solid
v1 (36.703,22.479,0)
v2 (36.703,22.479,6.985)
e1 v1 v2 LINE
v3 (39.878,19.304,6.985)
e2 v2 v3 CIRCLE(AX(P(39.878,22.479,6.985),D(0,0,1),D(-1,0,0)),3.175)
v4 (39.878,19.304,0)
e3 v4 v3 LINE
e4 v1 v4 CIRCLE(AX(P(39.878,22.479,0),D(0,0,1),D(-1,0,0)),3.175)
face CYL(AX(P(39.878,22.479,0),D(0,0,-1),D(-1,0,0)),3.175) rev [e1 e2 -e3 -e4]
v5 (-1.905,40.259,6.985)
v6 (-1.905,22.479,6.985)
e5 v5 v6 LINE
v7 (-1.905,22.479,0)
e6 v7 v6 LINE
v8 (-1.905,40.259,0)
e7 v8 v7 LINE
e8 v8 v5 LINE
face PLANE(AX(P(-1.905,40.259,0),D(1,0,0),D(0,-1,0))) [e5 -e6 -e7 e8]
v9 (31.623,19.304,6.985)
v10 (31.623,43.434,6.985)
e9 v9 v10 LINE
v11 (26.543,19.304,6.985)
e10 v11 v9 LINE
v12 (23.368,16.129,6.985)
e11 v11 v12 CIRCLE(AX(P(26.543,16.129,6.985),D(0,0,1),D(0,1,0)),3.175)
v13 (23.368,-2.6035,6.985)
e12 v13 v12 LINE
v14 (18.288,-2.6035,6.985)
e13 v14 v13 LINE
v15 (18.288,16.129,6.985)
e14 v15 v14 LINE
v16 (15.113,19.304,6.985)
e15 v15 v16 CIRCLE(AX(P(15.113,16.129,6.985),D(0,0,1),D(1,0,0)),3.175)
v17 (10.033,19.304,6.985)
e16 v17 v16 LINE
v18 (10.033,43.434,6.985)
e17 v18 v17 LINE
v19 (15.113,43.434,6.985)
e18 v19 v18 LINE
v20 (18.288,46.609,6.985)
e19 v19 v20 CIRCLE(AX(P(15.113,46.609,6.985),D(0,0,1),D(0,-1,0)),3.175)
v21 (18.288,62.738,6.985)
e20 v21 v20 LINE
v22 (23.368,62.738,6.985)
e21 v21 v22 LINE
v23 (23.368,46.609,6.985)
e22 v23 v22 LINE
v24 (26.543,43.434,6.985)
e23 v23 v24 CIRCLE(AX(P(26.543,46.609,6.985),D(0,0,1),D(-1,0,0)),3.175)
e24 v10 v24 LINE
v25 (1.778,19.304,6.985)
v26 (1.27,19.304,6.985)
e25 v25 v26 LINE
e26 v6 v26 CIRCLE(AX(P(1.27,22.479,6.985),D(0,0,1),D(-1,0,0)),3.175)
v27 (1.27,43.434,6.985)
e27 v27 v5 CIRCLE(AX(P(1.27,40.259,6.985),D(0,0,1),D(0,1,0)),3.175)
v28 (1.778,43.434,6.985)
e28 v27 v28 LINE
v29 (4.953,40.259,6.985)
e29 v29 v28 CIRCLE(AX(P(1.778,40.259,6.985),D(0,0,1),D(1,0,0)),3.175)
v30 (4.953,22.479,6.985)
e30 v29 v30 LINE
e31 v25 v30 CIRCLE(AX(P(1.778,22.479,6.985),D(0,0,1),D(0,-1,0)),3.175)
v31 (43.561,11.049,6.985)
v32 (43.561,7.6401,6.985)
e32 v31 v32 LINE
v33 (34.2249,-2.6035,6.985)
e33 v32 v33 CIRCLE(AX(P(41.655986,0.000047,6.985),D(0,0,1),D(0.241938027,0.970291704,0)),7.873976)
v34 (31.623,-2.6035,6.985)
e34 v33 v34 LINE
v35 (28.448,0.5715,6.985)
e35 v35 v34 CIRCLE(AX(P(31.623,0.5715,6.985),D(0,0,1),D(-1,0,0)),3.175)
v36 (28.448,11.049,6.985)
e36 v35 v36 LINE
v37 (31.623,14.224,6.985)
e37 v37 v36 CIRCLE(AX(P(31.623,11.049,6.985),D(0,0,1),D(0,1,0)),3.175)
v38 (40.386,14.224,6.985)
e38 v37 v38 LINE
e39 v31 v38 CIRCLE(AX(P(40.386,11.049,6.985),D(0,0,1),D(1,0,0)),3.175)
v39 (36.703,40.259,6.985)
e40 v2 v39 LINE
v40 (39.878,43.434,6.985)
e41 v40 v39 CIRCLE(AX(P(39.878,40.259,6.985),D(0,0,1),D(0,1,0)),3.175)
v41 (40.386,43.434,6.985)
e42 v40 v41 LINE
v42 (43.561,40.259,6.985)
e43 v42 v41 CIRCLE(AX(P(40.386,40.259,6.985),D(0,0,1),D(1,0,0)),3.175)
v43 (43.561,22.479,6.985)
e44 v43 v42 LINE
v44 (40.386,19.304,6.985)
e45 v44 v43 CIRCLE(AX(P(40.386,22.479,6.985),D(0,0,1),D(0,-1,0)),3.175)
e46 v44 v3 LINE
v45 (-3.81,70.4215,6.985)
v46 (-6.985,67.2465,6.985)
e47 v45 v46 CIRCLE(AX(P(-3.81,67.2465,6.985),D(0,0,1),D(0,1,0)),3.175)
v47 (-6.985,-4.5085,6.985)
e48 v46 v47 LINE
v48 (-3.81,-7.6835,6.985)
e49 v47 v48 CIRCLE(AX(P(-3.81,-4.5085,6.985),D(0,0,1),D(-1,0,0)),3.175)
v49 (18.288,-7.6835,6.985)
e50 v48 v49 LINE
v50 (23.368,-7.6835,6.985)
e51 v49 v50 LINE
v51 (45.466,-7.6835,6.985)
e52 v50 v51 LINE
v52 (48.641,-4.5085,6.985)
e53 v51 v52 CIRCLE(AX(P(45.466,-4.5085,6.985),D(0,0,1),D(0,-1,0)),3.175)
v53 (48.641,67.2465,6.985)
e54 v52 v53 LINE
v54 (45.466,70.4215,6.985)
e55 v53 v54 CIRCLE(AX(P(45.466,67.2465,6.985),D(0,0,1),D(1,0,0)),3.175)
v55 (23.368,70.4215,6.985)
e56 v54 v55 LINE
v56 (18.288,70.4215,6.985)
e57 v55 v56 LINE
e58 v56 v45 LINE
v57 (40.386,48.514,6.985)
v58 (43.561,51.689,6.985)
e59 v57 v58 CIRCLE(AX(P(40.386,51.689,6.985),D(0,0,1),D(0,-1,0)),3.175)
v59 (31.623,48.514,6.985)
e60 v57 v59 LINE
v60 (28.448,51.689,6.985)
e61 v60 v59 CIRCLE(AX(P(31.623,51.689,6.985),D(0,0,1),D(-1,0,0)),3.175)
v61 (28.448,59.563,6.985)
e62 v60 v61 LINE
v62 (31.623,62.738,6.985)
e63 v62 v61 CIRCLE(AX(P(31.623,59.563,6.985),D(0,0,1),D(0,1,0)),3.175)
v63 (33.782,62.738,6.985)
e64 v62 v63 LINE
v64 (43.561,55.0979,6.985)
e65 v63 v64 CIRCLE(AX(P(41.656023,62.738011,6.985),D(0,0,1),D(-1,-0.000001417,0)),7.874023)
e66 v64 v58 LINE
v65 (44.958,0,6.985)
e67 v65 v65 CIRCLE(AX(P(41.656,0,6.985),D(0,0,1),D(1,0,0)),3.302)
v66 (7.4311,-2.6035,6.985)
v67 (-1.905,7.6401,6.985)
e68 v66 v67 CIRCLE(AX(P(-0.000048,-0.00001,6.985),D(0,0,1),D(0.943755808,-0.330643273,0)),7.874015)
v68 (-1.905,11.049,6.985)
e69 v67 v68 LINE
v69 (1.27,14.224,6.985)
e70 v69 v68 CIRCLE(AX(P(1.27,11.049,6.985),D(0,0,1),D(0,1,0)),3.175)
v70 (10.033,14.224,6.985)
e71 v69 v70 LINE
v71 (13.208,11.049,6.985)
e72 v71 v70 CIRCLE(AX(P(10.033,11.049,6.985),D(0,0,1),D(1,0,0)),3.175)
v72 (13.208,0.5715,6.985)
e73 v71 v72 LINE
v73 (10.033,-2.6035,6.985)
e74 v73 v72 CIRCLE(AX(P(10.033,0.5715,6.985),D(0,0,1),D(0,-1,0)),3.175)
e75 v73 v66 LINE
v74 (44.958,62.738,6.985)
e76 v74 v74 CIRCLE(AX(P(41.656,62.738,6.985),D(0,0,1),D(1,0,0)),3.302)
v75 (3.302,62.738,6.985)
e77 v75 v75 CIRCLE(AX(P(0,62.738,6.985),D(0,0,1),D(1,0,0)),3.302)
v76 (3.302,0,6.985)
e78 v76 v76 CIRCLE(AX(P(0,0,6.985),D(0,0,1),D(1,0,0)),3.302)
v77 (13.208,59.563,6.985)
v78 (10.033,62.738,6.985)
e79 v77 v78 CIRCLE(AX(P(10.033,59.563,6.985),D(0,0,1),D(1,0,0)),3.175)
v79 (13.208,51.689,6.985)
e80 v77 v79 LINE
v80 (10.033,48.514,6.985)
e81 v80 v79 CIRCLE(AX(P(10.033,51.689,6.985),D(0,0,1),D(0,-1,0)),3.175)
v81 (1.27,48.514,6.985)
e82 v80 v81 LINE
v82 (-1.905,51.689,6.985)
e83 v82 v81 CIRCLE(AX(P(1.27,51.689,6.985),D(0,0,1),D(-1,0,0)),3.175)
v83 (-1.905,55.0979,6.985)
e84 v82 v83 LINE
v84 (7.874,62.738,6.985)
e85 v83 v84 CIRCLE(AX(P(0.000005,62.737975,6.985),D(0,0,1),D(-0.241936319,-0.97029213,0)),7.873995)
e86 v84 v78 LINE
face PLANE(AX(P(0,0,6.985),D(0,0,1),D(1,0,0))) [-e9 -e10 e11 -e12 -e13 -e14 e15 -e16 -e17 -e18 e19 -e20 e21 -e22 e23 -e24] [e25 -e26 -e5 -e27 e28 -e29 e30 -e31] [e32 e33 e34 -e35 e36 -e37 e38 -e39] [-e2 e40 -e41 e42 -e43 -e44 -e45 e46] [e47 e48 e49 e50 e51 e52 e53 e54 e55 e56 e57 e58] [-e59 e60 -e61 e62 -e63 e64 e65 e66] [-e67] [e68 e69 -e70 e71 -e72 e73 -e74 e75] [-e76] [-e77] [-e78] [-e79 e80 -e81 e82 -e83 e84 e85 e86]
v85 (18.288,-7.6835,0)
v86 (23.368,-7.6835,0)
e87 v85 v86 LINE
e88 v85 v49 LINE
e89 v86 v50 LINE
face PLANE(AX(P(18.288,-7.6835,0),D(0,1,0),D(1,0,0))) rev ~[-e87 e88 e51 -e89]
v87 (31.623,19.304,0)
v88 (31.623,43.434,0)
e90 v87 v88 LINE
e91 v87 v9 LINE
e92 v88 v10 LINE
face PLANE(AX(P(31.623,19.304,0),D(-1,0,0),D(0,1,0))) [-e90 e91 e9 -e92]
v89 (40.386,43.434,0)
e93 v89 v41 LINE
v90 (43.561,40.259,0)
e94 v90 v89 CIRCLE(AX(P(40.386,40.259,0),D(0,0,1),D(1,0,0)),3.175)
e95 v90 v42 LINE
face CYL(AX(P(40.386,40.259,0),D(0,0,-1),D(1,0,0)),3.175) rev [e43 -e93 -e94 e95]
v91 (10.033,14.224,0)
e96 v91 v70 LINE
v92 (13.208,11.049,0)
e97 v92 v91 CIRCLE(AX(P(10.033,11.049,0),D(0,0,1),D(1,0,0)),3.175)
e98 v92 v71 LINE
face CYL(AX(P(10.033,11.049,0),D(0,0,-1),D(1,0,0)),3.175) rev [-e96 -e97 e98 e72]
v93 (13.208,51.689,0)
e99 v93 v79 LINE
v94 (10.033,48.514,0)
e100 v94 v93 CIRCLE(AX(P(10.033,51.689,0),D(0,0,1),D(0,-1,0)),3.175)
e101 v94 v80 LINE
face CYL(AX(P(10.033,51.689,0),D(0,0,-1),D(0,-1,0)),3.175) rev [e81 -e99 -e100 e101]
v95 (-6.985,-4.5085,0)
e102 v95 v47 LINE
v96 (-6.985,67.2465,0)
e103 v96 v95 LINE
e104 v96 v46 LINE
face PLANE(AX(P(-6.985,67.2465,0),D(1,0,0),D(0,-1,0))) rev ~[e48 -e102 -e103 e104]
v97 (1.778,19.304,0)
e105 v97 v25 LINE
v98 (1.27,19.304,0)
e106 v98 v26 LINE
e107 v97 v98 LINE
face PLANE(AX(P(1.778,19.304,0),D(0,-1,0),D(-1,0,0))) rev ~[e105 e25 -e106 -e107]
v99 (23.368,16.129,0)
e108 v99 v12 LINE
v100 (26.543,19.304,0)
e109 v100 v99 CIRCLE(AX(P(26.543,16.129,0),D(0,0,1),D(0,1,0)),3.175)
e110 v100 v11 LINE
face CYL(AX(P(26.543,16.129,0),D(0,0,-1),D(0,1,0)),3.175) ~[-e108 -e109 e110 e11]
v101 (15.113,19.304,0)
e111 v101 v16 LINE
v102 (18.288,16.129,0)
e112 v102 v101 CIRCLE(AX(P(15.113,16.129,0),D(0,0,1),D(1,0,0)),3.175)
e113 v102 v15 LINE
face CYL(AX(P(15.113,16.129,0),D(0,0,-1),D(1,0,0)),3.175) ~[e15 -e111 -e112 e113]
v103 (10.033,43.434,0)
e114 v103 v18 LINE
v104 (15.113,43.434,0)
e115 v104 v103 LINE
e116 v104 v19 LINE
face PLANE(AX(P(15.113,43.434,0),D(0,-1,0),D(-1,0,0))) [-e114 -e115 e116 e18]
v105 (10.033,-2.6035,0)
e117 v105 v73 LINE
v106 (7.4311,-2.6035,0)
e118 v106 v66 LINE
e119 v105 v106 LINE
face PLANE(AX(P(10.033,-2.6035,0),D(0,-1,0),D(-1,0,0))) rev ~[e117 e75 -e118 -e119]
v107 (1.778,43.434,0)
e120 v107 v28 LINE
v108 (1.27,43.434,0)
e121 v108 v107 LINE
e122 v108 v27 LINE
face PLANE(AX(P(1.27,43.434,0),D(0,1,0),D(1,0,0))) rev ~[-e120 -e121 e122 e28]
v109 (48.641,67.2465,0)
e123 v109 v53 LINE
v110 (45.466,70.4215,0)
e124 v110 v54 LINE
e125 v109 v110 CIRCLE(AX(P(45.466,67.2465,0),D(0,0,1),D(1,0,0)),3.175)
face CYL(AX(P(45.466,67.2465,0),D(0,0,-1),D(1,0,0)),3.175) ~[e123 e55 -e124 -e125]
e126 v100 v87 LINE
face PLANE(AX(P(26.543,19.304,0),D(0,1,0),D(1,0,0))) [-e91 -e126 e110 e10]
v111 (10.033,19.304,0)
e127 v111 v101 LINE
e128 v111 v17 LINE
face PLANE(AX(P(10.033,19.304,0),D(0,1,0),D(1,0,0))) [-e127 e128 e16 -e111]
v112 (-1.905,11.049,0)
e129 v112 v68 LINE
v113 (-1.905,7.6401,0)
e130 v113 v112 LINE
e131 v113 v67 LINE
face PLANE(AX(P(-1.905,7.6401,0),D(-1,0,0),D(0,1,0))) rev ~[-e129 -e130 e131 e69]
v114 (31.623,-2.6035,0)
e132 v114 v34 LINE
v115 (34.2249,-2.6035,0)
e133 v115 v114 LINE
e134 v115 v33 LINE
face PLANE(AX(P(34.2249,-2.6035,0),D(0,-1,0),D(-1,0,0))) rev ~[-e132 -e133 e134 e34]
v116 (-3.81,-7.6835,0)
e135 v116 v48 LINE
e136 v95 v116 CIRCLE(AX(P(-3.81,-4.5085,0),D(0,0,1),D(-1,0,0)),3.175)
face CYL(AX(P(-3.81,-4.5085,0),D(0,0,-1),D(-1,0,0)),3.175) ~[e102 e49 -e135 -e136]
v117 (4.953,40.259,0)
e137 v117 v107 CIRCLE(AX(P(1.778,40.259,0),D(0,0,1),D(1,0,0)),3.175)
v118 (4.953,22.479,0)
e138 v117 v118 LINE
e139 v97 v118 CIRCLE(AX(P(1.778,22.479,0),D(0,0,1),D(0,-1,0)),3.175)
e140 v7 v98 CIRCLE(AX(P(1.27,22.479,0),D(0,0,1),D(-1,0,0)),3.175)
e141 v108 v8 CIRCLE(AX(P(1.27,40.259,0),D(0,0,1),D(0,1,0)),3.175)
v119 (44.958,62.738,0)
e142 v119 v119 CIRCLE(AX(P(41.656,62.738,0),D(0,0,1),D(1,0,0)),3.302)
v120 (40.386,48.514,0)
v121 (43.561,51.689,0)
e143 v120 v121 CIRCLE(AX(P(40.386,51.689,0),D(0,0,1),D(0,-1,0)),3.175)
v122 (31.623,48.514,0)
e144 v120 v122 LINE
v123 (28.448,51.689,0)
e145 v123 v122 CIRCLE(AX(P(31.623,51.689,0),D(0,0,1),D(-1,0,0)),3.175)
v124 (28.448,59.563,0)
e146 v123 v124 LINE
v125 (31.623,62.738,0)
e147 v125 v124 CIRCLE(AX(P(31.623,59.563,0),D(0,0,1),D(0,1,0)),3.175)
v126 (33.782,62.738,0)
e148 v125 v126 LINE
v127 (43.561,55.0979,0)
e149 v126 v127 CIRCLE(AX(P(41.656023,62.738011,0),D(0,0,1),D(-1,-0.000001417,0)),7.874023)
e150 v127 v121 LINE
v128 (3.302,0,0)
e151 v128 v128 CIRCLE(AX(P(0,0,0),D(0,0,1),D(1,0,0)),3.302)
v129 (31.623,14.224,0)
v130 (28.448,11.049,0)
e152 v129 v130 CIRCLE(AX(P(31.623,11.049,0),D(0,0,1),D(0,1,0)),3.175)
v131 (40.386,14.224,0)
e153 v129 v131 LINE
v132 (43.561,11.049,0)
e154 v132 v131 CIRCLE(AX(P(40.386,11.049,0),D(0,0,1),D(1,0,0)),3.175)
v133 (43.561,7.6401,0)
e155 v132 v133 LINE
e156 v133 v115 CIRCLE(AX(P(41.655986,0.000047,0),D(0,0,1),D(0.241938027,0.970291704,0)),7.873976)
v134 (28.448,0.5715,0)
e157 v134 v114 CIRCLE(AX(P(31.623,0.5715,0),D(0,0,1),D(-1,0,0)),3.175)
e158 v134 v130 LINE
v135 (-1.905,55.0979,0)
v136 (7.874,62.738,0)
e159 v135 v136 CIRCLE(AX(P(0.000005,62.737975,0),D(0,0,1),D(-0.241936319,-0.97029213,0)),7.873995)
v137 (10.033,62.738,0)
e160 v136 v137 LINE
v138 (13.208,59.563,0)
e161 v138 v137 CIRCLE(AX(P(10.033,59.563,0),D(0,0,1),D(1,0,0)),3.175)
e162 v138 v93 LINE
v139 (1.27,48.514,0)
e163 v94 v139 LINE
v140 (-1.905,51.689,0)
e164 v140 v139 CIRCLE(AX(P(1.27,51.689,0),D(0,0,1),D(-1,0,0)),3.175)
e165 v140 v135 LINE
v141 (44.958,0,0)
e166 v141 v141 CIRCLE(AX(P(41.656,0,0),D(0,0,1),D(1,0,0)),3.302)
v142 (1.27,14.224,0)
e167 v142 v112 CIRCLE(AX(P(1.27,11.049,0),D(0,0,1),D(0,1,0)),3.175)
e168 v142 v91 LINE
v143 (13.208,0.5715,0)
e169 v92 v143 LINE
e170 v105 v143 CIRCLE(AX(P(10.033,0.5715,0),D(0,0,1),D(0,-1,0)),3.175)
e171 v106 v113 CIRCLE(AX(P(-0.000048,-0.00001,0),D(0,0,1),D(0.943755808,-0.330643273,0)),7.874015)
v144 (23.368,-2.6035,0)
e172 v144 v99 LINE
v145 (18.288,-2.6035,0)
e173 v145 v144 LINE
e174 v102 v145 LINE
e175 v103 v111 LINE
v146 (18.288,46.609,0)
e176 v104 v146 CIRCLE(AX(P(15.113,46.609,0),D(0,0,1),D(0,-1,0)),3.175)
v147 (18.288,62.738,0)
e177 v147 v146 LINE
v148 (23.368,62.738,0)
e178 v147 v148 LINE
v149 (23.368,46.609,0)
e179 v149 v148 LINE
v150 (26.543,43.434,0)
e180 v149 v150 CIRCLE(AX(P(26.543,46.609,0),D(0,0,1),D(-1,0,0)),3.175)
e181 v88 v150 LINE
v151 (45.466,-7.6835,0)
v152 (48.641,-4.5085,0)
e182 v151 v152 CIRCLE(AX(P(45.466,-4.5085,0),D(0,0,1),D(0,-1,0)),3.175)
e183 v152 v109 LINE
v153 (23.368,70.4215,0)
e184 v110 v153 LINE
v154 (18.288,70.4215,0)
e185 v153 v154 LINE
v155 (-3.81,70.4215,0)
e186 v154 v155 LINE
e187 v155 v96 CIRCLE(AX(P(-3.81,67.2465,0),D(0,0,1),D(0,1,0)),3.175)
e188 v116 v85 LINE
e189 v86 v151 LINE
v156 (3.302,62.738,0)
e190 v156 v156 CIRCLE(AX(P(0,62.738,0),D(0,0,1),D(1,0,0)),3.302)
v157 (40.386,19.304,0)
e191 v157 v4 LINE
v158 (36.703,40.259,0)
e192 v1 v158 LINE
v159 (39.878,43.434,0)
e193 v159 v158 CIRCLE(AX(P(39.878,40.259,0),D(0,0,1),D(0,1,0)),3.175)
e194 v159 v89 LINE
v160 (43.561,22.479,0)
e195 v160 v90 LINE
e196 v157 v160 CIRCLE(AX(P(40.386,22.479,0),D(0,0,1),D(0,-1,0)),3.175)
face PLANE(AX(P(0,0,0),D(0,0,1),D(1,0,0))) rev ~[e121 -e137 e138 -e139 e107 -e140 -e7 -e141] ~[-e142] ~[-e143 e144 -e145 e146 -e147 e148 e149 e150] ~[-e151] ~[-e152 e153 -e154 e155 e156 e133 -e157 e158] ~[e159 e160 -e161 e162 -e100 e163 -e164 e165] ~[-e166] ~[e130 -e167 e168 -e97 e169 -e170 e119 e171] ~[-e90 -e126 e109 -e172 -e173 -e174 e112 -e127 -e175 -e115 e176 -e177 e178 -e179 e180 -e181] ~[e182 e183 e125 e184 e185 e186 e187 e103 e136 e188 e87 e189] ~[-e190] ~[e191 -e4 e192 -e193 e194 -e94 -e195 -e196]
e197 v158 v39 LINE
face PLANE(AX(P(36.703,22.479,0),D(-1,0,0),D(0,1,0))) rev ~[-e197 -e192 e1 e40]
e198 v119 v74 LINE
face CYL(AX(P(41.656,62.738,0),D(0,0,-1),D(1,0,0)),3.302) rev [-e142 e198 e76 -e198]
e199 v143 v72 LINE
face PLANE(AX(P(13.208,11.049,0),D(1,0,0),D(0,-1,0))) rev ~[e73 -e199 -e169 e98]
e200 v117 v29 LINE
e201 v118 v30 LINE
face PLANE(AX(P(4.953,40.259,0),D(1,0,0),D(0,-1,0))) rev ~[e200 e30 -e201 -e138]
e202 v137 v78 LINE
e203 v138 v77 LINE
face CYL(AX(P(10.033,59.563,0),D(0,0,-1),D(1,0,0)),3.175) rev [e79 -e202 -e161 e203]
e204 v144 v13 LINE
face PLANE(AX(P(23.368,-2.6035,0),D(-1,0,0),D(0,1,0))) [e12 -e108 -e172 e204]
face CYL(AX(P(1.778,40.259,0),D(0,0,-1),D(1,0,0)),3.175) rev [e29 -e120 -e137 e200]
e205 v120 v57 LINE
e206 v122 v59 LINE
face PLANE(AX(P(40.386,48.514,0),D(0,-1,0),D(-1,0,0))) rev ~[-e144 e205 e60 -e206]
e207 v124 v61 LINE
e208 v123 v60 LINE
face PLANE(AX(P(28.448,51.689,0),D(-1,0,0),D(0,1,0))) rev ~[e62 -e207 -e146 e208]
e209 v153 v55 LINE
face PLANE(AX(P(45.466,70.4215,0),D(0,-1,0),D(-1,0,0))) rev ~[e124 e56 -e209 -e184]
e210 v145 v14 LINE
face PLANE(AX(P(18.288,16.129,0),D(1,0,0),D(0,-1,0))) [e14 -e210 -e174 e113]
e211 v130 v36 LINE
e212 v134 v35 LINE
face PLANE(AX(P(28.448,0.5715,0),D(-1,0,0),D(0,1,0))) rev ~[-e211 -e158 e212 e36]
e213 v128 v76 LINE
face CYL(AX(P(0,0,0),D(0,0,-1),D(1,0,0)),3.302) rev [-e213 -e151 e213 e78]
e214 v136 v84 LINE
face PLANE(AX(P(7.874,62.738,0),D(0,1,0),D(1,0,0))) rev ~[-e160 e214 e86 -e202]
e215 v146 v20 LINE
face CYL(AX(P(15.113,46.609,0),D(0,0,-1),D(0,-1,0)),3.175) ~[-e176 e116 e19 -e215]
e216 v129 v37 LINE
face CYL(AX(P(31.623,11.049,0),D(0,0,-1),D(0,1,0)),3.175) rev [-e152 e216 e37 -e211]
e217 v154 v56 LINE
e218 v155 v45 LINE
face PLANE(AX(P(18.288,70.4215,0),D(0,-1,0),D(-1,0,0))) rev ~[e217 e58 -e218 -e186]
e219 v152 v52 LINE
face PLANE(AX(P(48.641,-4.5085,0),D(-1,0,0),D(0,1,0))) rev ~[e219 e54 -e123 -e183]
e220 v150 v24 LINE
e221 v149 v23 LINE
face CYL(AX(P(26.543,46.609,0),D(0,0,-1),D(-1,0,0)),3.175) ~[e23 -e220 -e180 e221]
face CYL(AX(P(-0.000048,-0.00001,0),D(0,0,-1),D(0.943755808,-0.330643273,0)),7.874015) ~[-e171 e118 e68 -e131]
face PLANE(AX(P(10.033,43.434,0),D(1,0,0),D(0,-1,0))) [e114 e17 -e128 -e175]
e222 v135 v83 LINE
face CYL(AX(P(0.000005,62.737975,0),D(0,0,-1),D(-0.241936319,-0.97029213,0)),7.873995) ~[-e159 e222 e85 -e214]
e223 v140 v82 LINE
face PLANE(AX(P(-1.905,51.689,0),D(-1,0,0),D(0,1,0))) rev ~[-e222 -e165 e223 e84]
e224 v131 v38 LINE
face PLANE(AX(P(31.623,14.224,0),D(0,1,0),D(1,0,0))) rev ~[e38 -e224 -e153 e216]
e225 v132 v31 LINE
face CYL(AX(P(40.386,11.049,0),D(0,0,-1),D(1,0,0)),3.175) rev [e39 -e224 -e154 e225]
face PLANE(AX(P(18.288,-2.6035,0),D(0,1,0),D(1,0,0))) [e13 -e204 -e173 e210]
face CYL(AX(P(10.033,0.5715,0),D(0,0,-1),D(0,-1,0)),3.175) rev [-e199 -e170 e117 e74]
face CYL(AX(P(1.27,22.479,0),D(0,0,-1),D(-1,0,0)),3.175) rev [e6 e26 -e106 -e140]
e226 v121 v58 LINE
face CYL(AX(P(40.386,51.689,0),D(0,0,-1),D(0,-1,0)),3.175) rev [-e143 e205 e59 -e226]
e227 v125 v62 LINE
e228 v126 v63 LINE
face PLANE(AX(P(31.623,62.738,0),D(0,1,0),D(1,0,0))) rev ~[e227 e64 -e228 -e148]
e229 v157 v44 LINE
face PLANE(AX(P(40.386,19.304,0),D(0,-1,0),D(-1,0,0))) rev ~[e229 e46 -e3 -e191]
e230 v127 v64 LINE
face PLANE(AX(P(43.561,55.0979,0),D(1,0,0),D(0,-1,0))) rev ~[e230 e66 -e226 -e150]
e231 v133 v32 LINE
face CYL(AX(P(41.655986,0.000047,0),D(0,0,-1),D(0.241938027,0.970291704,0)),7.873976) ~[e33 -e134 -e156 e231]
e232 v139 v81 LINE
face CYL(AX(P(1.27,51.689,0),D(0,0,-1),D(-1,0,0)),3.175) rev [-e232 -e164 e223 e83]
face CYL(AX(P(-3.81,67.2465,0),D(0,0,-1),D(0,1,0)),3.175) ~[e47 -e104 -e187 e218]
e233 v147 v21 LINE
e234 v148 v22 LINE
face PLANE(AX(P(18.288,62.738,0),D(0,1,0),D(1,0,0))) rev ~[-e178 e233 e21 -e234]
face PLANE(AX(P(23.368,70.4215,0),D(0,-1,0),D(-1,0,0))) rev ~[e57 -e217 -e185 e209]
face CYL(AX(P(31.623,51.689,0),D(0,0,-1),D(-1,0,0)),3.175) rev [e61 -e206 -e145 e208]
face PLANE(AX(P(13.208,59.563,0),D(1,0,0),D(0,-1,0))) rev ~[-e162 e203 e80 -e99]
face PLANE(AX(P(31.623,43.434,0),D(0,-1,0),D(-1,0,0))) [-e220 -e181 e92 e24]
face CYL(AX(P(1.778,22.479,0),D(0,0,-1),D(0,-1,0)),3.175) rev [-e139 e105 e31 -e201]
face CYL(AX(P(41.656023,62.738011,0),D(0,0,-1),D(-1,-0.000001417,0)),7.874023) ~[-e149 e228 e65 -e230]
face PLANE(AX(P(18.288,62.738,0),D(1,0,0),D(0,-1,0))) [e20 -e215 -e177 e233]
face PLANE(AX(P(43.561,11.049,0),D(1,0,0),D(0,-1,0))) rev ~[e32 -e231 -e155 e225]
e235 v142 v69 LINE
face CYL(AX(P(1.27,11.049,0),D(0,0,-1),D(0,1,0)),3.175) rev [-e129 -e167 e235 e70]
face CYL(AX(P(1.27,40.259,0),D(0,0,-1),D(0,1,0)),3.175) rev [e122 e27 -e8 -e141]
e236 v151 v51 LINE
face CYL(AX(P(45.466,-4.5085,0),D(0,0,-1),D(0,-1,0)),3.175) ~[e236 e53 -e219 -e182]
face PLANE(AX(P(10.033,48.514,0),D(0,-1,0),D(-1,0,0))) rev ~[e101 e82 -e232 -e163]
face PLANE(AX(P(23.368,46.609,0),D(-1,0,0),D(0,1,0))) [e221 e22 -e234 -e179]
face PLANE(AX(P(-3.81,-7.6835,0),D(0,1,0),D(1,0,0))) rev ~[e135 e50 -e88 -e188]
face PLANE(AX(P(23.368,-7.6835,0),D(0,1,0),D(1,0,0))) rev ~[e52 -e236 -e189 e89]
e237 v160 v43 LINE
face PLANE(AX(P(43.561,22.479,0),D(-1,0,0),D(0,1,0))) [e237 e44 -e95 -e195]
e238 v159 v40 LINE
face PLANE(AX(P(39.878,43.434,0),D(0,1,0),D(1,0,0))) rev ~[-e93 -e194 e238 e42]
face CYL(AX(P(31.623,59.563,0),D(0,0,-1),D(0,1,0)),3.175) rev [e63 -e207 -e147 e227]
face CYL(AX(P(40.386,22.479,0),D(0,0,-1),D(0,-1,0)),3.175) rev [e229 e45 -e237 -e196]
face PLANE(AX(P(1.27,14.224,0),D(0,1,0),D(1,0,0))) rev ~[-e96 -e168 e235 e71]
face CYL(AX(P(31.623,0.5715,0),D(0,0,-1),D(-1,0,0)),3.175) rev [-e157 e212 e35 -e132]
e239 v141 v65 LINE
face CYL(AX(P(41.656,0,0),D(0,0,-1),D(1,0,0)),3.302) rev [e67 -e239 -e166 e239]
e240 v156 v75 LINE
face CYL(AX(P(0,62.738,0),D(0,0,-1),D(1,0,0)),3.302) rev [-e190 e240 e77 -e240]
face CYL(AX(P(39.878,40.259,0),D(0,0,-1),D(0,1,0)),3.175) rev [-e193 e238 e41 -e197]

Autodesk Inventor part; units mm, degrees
ref_plane "YZ Plane" through (0, 0, 0) normal (1, 0, 0) x (0, 1, 0)
ref_plane "XZ Plane" through (0, 0, 0) normal (0, 1, 0) x (-1, 0, 0)
ref_plane "XY Plane" through (0, 0, 0) normal (0, 0, 1) x (1, 0, 0)
sketch "Sketch1" plane through (0, 0, 0) normal (0, 0, 1) x (1, 0, 0)
  line L0 (-3.81, -7.6835) -> (45.466, -7.6835)
  line L1 (48.641, -4.5085) -> (48.641, 67.2465)
  line L2 (45.466, 70.4215) -> (-3.81, 70.4215)
  line L3 (-6.985, 67.2465) -> (-6.985, -4.5085)
  arc A0 (45.466, -7.6835) -> (48.641, -4.5085) centre (45.466, -4.5085) ccw
  arc A1 (-6.985, -4.5085) -> (-3.81, -7.6835) centre (-3.81, -4.5085) ccw
  line L4 (31.623, 19.304) -> (31.623, 43.434)
  line L5 (10.033, 43.434) -> (10.033, 19.304)
  line L6 (18.288, -7.6835) -> (23.368, -7.6835)
  line L7 (23.368, 70.4215) -> (18.288, 70.4215)
  arc A2 (-1.905, 55.0979) -> (7.874, 62.738) centre (0, 62.738) ccw
  arc A3 (33.782, 62.738) -> (43.561, 55.0979) centre (41.656, 62.738) ccw
  arc A4 (43.561, 7.6401) -> (34.2249, -2.6035) centre (41.656, 0) ccw
  arc A5 (7.4311, -2.6035) -> (-1.905, 7.6401) centre (0, 0) ccw
  line L8 (34.2249, -2.6035) -> (31.623, -2.6035)
  line L9 (10.033, -2.6035) -> (7.4311, -2.6035)
  line L10 (31.623, 43.434) -> (26.543, 43.434)
  line L11 (15.113, 43.434) -> (10.033, 43.434)
  line L12 (10.033, 19.304) -> (15.113, 19.304)
  line L13 (26.543, 19.304) -> (31.623, 19.304)
  line L14 (23.368, 46.609) -> (23.368, 62.738)
  line L15 (18.288, 62.738) -> (18.288, 46.609)
  line L16 (23.368, -2.6035) -> (23.368, 16.129)
  line L17 (18.288, 16.129) -> (18.288, -2.6035)
  line L18 (18.288, -2.6035) -> (23.368, -2.6035)
  line L19 (28.448, 51.689) -> (28.448, 59.563)
  line L20 (40.386, 48.514) -> (31.623, 48.514)
  line L21 (13.208, 59.563) -> (13.208, 51.689)
  line L22 (10.033, 48.514) -> (1.27, 48.514)
  line L23 (13.208, 11.049) -> (13.208, 0.5715)
  line L24 (1.27, 14.224) -> (10.033, 14.224)
  line L25 (31.623, 14.224) -> (40.386, 14.224)
  line L26 (28.448, 0.5715) -> (28.448, 11.049)
  line L27 (-1.905, 7.6401) -> (-1.905, 11.049)
  line L28 (-1.905, 51.689) -> (-1.905, 55.0979)
  line L29 (43.561, 55.0979) -> (43.561, 51.689)
  line L30 (43.561, 11.049) -> (43.561, 7.6401)
  line L31 (43.561, 22.479) -> (43.561, 40.259)
  line L32 (-1.905, 40.259) -> (-1.905, 22.479)
  line L33 (4.953, 40.259) -> (4.953, 22.479)
  line L34 (36.703, 22.479) -> (36.703, 40.259)
  line L35 (1.27, 43.434) -> (1.778, 43.434)
  line L36 (1.778, 19.304) -> (1.27, 19.304)
  line L37 (39.878, 43.434) -> (40.386, 43.434)
  line L38 (40.386, 19.304) -> (39.878, 19.304)
  arc A6 (10.033, 48.514) -> (13.208, 51.689) centre (10.033, 51.689) ccw
  arc A7 (28.448, 51.689) -> (31.623, 48.514) centre (31.623, 51.689) ccw
  arc A8 (31.623, 14.224) -> (28.448, 11.049) centre (31.623, 11.049) ccw
  arc A9 (13.208, 11.049) -> (10.033, 14.224) centre (10.033, 11.049) ccw
  arc A10 (1.27, 14.224) -> (-1.905, 11.049) centre (1.27, 11.049) ccw
  arc A11 (10.033, -2.6035) -> (13.208, 0.5715) centre (10.033, 0.5715) ccw
  arc A12 (28.448, 0.5715) -> (31.623, -2.6035) centre (31.623, 0.5715) ccw
  arc A13 (43.561, 11.049) -> (40.386, 14.224) centre (40.386, 11.049) ccw
  arc A14 (40.386, 48.514) -> (43.561, 51.689) centre (40.386, 51.689) ccw
  arc A15 (-1.905, 51.689) -> (1.27, 48.514) centre (1.27, 51.689) ccw
  arc A16 (23.368, 46.609) -> (26.543, 43.434) centre (26.543, 46.609) ccw
  arc A17 (15.113, 43.434) -> (18.288, 46.609) centre (15.113, 46.609) ccw
  arc A18 (18.288, 16.129) -> (15.113, 19.304) centre (15.113, 16.129) ccw
  arc A19 (26.543, 19.304) -> (23.368, 16.129) centre (26.543, 16.129) ccw
  arc A20 (36.703, 22.479) -> (39.878, 19.304) centre (39.878, 22.479) ccw
  arc A21 (40.386, 19.304) -> (43.561, 22.479) centre (40.386, 22.479) ccw
  arc A22 (43.561, 40.259) -> (40.386, 43.434) centre (40.386, 40.259) ccw
  arc A23 (39.878, 43.434) -> (36.703, 40.259) centre (39.878, 40.259) ccw
  arc A24 (1.27, 43.434) -> (-1.905, 40.259) centre (1.27, 40.259) ccw
  arc A25 (4.953, 40.259) -> (1.778, 43.434) centre (1.778, 40.259) ccw
  arc A26 (1.778, 19.304) -> (4.953, 22.479) centre (1.778, 22.479) ccw
  arc A27 (-1.905, 22.479) -> (1.27, 19.304) centre (1.27, 22.479) ccw
  line L39 (7.874, 62.738) -> (10.033, 62.738)
  line L40 (18.288, 62.738) -> (23.368, 62.738)
  line L41 (31.623, 62.738) -> (33.782, 62.738)
  arc A28 (13.208, 59.563) -> (10.033, 62.738) centre (10.033, 59.563) ccw
  arc A29 (31.623, 62.738) -> (28.448, 59.563) centre (31.623, 59.563) ccw
  circle A30 centre (0, 62.738) radius 3.302
  circle A31 centre (41.656, 62.738) radius 3.302
  circle A32 centre (0, 0) radius 3.302
  circle A33 centre (41.656, 0) radius 3.302
  arc A34 (-3.81, 70.4215) -> (-6.985, 67.2465) centre (-3.81, 67.2465) ccw
  arc A35 (48.641, 67.2465) -> (45.466, 70.4215) centre (45.466, 67.2465) ccw
  point P0 (20.828, 31.369)
  point P1 (-6.985, 70.4215)
  point P2 (48.641, 70.4215)
  point P3 (23.368, 43.434)
  point P4 (18.288, 43.434)
  point P5 (18.288, 19.304)
  point P6 (23.368, 19.304)
  point P7 (-1.905, 14.224)
  point P8 (43.561, 48.514)
  point P9 (43.561, 14.224)
  point P10 (-1.905, 48.514)
  point P11 (13.208, 65.3415)
  point P12 (28.448, 65.3415)
  point P13 (13.208, -2.6035)
  point P14 (28.448, -2.6035)
  point P15 (28.448, 48.514)
  point P16 (13.208, 48.514)
  point P17 (13.208, 14.224)
  point P18 (28.448, 14.224)
  point P19 (-1.905, 19.304)
  point P20 (43.561, 43.434)
  point P21 (43.561, 19.304)
  point P22 (-1.905, 43.434)
  point P23 (4.953, 43.434)
  point P24 (4.953, 19.304)
  point P25 (36.703, 19.304)
  point P26 (36.703, 43.434)
  point P27 (28.448, 62.738)
  point P28 (13.208, 62.738)
  dimension "d32" = 3.175
  dimension "d37" = 6.604
  dimension "d38" = 6.604
  dimension "d39" = 6.604
  dimension "d40" = 6.604
  dimension "d76" = 3.175
extrude "Extrusion1" add sketch "Sketch1" along normal blind 6.985
properties part number "LED Riser"
